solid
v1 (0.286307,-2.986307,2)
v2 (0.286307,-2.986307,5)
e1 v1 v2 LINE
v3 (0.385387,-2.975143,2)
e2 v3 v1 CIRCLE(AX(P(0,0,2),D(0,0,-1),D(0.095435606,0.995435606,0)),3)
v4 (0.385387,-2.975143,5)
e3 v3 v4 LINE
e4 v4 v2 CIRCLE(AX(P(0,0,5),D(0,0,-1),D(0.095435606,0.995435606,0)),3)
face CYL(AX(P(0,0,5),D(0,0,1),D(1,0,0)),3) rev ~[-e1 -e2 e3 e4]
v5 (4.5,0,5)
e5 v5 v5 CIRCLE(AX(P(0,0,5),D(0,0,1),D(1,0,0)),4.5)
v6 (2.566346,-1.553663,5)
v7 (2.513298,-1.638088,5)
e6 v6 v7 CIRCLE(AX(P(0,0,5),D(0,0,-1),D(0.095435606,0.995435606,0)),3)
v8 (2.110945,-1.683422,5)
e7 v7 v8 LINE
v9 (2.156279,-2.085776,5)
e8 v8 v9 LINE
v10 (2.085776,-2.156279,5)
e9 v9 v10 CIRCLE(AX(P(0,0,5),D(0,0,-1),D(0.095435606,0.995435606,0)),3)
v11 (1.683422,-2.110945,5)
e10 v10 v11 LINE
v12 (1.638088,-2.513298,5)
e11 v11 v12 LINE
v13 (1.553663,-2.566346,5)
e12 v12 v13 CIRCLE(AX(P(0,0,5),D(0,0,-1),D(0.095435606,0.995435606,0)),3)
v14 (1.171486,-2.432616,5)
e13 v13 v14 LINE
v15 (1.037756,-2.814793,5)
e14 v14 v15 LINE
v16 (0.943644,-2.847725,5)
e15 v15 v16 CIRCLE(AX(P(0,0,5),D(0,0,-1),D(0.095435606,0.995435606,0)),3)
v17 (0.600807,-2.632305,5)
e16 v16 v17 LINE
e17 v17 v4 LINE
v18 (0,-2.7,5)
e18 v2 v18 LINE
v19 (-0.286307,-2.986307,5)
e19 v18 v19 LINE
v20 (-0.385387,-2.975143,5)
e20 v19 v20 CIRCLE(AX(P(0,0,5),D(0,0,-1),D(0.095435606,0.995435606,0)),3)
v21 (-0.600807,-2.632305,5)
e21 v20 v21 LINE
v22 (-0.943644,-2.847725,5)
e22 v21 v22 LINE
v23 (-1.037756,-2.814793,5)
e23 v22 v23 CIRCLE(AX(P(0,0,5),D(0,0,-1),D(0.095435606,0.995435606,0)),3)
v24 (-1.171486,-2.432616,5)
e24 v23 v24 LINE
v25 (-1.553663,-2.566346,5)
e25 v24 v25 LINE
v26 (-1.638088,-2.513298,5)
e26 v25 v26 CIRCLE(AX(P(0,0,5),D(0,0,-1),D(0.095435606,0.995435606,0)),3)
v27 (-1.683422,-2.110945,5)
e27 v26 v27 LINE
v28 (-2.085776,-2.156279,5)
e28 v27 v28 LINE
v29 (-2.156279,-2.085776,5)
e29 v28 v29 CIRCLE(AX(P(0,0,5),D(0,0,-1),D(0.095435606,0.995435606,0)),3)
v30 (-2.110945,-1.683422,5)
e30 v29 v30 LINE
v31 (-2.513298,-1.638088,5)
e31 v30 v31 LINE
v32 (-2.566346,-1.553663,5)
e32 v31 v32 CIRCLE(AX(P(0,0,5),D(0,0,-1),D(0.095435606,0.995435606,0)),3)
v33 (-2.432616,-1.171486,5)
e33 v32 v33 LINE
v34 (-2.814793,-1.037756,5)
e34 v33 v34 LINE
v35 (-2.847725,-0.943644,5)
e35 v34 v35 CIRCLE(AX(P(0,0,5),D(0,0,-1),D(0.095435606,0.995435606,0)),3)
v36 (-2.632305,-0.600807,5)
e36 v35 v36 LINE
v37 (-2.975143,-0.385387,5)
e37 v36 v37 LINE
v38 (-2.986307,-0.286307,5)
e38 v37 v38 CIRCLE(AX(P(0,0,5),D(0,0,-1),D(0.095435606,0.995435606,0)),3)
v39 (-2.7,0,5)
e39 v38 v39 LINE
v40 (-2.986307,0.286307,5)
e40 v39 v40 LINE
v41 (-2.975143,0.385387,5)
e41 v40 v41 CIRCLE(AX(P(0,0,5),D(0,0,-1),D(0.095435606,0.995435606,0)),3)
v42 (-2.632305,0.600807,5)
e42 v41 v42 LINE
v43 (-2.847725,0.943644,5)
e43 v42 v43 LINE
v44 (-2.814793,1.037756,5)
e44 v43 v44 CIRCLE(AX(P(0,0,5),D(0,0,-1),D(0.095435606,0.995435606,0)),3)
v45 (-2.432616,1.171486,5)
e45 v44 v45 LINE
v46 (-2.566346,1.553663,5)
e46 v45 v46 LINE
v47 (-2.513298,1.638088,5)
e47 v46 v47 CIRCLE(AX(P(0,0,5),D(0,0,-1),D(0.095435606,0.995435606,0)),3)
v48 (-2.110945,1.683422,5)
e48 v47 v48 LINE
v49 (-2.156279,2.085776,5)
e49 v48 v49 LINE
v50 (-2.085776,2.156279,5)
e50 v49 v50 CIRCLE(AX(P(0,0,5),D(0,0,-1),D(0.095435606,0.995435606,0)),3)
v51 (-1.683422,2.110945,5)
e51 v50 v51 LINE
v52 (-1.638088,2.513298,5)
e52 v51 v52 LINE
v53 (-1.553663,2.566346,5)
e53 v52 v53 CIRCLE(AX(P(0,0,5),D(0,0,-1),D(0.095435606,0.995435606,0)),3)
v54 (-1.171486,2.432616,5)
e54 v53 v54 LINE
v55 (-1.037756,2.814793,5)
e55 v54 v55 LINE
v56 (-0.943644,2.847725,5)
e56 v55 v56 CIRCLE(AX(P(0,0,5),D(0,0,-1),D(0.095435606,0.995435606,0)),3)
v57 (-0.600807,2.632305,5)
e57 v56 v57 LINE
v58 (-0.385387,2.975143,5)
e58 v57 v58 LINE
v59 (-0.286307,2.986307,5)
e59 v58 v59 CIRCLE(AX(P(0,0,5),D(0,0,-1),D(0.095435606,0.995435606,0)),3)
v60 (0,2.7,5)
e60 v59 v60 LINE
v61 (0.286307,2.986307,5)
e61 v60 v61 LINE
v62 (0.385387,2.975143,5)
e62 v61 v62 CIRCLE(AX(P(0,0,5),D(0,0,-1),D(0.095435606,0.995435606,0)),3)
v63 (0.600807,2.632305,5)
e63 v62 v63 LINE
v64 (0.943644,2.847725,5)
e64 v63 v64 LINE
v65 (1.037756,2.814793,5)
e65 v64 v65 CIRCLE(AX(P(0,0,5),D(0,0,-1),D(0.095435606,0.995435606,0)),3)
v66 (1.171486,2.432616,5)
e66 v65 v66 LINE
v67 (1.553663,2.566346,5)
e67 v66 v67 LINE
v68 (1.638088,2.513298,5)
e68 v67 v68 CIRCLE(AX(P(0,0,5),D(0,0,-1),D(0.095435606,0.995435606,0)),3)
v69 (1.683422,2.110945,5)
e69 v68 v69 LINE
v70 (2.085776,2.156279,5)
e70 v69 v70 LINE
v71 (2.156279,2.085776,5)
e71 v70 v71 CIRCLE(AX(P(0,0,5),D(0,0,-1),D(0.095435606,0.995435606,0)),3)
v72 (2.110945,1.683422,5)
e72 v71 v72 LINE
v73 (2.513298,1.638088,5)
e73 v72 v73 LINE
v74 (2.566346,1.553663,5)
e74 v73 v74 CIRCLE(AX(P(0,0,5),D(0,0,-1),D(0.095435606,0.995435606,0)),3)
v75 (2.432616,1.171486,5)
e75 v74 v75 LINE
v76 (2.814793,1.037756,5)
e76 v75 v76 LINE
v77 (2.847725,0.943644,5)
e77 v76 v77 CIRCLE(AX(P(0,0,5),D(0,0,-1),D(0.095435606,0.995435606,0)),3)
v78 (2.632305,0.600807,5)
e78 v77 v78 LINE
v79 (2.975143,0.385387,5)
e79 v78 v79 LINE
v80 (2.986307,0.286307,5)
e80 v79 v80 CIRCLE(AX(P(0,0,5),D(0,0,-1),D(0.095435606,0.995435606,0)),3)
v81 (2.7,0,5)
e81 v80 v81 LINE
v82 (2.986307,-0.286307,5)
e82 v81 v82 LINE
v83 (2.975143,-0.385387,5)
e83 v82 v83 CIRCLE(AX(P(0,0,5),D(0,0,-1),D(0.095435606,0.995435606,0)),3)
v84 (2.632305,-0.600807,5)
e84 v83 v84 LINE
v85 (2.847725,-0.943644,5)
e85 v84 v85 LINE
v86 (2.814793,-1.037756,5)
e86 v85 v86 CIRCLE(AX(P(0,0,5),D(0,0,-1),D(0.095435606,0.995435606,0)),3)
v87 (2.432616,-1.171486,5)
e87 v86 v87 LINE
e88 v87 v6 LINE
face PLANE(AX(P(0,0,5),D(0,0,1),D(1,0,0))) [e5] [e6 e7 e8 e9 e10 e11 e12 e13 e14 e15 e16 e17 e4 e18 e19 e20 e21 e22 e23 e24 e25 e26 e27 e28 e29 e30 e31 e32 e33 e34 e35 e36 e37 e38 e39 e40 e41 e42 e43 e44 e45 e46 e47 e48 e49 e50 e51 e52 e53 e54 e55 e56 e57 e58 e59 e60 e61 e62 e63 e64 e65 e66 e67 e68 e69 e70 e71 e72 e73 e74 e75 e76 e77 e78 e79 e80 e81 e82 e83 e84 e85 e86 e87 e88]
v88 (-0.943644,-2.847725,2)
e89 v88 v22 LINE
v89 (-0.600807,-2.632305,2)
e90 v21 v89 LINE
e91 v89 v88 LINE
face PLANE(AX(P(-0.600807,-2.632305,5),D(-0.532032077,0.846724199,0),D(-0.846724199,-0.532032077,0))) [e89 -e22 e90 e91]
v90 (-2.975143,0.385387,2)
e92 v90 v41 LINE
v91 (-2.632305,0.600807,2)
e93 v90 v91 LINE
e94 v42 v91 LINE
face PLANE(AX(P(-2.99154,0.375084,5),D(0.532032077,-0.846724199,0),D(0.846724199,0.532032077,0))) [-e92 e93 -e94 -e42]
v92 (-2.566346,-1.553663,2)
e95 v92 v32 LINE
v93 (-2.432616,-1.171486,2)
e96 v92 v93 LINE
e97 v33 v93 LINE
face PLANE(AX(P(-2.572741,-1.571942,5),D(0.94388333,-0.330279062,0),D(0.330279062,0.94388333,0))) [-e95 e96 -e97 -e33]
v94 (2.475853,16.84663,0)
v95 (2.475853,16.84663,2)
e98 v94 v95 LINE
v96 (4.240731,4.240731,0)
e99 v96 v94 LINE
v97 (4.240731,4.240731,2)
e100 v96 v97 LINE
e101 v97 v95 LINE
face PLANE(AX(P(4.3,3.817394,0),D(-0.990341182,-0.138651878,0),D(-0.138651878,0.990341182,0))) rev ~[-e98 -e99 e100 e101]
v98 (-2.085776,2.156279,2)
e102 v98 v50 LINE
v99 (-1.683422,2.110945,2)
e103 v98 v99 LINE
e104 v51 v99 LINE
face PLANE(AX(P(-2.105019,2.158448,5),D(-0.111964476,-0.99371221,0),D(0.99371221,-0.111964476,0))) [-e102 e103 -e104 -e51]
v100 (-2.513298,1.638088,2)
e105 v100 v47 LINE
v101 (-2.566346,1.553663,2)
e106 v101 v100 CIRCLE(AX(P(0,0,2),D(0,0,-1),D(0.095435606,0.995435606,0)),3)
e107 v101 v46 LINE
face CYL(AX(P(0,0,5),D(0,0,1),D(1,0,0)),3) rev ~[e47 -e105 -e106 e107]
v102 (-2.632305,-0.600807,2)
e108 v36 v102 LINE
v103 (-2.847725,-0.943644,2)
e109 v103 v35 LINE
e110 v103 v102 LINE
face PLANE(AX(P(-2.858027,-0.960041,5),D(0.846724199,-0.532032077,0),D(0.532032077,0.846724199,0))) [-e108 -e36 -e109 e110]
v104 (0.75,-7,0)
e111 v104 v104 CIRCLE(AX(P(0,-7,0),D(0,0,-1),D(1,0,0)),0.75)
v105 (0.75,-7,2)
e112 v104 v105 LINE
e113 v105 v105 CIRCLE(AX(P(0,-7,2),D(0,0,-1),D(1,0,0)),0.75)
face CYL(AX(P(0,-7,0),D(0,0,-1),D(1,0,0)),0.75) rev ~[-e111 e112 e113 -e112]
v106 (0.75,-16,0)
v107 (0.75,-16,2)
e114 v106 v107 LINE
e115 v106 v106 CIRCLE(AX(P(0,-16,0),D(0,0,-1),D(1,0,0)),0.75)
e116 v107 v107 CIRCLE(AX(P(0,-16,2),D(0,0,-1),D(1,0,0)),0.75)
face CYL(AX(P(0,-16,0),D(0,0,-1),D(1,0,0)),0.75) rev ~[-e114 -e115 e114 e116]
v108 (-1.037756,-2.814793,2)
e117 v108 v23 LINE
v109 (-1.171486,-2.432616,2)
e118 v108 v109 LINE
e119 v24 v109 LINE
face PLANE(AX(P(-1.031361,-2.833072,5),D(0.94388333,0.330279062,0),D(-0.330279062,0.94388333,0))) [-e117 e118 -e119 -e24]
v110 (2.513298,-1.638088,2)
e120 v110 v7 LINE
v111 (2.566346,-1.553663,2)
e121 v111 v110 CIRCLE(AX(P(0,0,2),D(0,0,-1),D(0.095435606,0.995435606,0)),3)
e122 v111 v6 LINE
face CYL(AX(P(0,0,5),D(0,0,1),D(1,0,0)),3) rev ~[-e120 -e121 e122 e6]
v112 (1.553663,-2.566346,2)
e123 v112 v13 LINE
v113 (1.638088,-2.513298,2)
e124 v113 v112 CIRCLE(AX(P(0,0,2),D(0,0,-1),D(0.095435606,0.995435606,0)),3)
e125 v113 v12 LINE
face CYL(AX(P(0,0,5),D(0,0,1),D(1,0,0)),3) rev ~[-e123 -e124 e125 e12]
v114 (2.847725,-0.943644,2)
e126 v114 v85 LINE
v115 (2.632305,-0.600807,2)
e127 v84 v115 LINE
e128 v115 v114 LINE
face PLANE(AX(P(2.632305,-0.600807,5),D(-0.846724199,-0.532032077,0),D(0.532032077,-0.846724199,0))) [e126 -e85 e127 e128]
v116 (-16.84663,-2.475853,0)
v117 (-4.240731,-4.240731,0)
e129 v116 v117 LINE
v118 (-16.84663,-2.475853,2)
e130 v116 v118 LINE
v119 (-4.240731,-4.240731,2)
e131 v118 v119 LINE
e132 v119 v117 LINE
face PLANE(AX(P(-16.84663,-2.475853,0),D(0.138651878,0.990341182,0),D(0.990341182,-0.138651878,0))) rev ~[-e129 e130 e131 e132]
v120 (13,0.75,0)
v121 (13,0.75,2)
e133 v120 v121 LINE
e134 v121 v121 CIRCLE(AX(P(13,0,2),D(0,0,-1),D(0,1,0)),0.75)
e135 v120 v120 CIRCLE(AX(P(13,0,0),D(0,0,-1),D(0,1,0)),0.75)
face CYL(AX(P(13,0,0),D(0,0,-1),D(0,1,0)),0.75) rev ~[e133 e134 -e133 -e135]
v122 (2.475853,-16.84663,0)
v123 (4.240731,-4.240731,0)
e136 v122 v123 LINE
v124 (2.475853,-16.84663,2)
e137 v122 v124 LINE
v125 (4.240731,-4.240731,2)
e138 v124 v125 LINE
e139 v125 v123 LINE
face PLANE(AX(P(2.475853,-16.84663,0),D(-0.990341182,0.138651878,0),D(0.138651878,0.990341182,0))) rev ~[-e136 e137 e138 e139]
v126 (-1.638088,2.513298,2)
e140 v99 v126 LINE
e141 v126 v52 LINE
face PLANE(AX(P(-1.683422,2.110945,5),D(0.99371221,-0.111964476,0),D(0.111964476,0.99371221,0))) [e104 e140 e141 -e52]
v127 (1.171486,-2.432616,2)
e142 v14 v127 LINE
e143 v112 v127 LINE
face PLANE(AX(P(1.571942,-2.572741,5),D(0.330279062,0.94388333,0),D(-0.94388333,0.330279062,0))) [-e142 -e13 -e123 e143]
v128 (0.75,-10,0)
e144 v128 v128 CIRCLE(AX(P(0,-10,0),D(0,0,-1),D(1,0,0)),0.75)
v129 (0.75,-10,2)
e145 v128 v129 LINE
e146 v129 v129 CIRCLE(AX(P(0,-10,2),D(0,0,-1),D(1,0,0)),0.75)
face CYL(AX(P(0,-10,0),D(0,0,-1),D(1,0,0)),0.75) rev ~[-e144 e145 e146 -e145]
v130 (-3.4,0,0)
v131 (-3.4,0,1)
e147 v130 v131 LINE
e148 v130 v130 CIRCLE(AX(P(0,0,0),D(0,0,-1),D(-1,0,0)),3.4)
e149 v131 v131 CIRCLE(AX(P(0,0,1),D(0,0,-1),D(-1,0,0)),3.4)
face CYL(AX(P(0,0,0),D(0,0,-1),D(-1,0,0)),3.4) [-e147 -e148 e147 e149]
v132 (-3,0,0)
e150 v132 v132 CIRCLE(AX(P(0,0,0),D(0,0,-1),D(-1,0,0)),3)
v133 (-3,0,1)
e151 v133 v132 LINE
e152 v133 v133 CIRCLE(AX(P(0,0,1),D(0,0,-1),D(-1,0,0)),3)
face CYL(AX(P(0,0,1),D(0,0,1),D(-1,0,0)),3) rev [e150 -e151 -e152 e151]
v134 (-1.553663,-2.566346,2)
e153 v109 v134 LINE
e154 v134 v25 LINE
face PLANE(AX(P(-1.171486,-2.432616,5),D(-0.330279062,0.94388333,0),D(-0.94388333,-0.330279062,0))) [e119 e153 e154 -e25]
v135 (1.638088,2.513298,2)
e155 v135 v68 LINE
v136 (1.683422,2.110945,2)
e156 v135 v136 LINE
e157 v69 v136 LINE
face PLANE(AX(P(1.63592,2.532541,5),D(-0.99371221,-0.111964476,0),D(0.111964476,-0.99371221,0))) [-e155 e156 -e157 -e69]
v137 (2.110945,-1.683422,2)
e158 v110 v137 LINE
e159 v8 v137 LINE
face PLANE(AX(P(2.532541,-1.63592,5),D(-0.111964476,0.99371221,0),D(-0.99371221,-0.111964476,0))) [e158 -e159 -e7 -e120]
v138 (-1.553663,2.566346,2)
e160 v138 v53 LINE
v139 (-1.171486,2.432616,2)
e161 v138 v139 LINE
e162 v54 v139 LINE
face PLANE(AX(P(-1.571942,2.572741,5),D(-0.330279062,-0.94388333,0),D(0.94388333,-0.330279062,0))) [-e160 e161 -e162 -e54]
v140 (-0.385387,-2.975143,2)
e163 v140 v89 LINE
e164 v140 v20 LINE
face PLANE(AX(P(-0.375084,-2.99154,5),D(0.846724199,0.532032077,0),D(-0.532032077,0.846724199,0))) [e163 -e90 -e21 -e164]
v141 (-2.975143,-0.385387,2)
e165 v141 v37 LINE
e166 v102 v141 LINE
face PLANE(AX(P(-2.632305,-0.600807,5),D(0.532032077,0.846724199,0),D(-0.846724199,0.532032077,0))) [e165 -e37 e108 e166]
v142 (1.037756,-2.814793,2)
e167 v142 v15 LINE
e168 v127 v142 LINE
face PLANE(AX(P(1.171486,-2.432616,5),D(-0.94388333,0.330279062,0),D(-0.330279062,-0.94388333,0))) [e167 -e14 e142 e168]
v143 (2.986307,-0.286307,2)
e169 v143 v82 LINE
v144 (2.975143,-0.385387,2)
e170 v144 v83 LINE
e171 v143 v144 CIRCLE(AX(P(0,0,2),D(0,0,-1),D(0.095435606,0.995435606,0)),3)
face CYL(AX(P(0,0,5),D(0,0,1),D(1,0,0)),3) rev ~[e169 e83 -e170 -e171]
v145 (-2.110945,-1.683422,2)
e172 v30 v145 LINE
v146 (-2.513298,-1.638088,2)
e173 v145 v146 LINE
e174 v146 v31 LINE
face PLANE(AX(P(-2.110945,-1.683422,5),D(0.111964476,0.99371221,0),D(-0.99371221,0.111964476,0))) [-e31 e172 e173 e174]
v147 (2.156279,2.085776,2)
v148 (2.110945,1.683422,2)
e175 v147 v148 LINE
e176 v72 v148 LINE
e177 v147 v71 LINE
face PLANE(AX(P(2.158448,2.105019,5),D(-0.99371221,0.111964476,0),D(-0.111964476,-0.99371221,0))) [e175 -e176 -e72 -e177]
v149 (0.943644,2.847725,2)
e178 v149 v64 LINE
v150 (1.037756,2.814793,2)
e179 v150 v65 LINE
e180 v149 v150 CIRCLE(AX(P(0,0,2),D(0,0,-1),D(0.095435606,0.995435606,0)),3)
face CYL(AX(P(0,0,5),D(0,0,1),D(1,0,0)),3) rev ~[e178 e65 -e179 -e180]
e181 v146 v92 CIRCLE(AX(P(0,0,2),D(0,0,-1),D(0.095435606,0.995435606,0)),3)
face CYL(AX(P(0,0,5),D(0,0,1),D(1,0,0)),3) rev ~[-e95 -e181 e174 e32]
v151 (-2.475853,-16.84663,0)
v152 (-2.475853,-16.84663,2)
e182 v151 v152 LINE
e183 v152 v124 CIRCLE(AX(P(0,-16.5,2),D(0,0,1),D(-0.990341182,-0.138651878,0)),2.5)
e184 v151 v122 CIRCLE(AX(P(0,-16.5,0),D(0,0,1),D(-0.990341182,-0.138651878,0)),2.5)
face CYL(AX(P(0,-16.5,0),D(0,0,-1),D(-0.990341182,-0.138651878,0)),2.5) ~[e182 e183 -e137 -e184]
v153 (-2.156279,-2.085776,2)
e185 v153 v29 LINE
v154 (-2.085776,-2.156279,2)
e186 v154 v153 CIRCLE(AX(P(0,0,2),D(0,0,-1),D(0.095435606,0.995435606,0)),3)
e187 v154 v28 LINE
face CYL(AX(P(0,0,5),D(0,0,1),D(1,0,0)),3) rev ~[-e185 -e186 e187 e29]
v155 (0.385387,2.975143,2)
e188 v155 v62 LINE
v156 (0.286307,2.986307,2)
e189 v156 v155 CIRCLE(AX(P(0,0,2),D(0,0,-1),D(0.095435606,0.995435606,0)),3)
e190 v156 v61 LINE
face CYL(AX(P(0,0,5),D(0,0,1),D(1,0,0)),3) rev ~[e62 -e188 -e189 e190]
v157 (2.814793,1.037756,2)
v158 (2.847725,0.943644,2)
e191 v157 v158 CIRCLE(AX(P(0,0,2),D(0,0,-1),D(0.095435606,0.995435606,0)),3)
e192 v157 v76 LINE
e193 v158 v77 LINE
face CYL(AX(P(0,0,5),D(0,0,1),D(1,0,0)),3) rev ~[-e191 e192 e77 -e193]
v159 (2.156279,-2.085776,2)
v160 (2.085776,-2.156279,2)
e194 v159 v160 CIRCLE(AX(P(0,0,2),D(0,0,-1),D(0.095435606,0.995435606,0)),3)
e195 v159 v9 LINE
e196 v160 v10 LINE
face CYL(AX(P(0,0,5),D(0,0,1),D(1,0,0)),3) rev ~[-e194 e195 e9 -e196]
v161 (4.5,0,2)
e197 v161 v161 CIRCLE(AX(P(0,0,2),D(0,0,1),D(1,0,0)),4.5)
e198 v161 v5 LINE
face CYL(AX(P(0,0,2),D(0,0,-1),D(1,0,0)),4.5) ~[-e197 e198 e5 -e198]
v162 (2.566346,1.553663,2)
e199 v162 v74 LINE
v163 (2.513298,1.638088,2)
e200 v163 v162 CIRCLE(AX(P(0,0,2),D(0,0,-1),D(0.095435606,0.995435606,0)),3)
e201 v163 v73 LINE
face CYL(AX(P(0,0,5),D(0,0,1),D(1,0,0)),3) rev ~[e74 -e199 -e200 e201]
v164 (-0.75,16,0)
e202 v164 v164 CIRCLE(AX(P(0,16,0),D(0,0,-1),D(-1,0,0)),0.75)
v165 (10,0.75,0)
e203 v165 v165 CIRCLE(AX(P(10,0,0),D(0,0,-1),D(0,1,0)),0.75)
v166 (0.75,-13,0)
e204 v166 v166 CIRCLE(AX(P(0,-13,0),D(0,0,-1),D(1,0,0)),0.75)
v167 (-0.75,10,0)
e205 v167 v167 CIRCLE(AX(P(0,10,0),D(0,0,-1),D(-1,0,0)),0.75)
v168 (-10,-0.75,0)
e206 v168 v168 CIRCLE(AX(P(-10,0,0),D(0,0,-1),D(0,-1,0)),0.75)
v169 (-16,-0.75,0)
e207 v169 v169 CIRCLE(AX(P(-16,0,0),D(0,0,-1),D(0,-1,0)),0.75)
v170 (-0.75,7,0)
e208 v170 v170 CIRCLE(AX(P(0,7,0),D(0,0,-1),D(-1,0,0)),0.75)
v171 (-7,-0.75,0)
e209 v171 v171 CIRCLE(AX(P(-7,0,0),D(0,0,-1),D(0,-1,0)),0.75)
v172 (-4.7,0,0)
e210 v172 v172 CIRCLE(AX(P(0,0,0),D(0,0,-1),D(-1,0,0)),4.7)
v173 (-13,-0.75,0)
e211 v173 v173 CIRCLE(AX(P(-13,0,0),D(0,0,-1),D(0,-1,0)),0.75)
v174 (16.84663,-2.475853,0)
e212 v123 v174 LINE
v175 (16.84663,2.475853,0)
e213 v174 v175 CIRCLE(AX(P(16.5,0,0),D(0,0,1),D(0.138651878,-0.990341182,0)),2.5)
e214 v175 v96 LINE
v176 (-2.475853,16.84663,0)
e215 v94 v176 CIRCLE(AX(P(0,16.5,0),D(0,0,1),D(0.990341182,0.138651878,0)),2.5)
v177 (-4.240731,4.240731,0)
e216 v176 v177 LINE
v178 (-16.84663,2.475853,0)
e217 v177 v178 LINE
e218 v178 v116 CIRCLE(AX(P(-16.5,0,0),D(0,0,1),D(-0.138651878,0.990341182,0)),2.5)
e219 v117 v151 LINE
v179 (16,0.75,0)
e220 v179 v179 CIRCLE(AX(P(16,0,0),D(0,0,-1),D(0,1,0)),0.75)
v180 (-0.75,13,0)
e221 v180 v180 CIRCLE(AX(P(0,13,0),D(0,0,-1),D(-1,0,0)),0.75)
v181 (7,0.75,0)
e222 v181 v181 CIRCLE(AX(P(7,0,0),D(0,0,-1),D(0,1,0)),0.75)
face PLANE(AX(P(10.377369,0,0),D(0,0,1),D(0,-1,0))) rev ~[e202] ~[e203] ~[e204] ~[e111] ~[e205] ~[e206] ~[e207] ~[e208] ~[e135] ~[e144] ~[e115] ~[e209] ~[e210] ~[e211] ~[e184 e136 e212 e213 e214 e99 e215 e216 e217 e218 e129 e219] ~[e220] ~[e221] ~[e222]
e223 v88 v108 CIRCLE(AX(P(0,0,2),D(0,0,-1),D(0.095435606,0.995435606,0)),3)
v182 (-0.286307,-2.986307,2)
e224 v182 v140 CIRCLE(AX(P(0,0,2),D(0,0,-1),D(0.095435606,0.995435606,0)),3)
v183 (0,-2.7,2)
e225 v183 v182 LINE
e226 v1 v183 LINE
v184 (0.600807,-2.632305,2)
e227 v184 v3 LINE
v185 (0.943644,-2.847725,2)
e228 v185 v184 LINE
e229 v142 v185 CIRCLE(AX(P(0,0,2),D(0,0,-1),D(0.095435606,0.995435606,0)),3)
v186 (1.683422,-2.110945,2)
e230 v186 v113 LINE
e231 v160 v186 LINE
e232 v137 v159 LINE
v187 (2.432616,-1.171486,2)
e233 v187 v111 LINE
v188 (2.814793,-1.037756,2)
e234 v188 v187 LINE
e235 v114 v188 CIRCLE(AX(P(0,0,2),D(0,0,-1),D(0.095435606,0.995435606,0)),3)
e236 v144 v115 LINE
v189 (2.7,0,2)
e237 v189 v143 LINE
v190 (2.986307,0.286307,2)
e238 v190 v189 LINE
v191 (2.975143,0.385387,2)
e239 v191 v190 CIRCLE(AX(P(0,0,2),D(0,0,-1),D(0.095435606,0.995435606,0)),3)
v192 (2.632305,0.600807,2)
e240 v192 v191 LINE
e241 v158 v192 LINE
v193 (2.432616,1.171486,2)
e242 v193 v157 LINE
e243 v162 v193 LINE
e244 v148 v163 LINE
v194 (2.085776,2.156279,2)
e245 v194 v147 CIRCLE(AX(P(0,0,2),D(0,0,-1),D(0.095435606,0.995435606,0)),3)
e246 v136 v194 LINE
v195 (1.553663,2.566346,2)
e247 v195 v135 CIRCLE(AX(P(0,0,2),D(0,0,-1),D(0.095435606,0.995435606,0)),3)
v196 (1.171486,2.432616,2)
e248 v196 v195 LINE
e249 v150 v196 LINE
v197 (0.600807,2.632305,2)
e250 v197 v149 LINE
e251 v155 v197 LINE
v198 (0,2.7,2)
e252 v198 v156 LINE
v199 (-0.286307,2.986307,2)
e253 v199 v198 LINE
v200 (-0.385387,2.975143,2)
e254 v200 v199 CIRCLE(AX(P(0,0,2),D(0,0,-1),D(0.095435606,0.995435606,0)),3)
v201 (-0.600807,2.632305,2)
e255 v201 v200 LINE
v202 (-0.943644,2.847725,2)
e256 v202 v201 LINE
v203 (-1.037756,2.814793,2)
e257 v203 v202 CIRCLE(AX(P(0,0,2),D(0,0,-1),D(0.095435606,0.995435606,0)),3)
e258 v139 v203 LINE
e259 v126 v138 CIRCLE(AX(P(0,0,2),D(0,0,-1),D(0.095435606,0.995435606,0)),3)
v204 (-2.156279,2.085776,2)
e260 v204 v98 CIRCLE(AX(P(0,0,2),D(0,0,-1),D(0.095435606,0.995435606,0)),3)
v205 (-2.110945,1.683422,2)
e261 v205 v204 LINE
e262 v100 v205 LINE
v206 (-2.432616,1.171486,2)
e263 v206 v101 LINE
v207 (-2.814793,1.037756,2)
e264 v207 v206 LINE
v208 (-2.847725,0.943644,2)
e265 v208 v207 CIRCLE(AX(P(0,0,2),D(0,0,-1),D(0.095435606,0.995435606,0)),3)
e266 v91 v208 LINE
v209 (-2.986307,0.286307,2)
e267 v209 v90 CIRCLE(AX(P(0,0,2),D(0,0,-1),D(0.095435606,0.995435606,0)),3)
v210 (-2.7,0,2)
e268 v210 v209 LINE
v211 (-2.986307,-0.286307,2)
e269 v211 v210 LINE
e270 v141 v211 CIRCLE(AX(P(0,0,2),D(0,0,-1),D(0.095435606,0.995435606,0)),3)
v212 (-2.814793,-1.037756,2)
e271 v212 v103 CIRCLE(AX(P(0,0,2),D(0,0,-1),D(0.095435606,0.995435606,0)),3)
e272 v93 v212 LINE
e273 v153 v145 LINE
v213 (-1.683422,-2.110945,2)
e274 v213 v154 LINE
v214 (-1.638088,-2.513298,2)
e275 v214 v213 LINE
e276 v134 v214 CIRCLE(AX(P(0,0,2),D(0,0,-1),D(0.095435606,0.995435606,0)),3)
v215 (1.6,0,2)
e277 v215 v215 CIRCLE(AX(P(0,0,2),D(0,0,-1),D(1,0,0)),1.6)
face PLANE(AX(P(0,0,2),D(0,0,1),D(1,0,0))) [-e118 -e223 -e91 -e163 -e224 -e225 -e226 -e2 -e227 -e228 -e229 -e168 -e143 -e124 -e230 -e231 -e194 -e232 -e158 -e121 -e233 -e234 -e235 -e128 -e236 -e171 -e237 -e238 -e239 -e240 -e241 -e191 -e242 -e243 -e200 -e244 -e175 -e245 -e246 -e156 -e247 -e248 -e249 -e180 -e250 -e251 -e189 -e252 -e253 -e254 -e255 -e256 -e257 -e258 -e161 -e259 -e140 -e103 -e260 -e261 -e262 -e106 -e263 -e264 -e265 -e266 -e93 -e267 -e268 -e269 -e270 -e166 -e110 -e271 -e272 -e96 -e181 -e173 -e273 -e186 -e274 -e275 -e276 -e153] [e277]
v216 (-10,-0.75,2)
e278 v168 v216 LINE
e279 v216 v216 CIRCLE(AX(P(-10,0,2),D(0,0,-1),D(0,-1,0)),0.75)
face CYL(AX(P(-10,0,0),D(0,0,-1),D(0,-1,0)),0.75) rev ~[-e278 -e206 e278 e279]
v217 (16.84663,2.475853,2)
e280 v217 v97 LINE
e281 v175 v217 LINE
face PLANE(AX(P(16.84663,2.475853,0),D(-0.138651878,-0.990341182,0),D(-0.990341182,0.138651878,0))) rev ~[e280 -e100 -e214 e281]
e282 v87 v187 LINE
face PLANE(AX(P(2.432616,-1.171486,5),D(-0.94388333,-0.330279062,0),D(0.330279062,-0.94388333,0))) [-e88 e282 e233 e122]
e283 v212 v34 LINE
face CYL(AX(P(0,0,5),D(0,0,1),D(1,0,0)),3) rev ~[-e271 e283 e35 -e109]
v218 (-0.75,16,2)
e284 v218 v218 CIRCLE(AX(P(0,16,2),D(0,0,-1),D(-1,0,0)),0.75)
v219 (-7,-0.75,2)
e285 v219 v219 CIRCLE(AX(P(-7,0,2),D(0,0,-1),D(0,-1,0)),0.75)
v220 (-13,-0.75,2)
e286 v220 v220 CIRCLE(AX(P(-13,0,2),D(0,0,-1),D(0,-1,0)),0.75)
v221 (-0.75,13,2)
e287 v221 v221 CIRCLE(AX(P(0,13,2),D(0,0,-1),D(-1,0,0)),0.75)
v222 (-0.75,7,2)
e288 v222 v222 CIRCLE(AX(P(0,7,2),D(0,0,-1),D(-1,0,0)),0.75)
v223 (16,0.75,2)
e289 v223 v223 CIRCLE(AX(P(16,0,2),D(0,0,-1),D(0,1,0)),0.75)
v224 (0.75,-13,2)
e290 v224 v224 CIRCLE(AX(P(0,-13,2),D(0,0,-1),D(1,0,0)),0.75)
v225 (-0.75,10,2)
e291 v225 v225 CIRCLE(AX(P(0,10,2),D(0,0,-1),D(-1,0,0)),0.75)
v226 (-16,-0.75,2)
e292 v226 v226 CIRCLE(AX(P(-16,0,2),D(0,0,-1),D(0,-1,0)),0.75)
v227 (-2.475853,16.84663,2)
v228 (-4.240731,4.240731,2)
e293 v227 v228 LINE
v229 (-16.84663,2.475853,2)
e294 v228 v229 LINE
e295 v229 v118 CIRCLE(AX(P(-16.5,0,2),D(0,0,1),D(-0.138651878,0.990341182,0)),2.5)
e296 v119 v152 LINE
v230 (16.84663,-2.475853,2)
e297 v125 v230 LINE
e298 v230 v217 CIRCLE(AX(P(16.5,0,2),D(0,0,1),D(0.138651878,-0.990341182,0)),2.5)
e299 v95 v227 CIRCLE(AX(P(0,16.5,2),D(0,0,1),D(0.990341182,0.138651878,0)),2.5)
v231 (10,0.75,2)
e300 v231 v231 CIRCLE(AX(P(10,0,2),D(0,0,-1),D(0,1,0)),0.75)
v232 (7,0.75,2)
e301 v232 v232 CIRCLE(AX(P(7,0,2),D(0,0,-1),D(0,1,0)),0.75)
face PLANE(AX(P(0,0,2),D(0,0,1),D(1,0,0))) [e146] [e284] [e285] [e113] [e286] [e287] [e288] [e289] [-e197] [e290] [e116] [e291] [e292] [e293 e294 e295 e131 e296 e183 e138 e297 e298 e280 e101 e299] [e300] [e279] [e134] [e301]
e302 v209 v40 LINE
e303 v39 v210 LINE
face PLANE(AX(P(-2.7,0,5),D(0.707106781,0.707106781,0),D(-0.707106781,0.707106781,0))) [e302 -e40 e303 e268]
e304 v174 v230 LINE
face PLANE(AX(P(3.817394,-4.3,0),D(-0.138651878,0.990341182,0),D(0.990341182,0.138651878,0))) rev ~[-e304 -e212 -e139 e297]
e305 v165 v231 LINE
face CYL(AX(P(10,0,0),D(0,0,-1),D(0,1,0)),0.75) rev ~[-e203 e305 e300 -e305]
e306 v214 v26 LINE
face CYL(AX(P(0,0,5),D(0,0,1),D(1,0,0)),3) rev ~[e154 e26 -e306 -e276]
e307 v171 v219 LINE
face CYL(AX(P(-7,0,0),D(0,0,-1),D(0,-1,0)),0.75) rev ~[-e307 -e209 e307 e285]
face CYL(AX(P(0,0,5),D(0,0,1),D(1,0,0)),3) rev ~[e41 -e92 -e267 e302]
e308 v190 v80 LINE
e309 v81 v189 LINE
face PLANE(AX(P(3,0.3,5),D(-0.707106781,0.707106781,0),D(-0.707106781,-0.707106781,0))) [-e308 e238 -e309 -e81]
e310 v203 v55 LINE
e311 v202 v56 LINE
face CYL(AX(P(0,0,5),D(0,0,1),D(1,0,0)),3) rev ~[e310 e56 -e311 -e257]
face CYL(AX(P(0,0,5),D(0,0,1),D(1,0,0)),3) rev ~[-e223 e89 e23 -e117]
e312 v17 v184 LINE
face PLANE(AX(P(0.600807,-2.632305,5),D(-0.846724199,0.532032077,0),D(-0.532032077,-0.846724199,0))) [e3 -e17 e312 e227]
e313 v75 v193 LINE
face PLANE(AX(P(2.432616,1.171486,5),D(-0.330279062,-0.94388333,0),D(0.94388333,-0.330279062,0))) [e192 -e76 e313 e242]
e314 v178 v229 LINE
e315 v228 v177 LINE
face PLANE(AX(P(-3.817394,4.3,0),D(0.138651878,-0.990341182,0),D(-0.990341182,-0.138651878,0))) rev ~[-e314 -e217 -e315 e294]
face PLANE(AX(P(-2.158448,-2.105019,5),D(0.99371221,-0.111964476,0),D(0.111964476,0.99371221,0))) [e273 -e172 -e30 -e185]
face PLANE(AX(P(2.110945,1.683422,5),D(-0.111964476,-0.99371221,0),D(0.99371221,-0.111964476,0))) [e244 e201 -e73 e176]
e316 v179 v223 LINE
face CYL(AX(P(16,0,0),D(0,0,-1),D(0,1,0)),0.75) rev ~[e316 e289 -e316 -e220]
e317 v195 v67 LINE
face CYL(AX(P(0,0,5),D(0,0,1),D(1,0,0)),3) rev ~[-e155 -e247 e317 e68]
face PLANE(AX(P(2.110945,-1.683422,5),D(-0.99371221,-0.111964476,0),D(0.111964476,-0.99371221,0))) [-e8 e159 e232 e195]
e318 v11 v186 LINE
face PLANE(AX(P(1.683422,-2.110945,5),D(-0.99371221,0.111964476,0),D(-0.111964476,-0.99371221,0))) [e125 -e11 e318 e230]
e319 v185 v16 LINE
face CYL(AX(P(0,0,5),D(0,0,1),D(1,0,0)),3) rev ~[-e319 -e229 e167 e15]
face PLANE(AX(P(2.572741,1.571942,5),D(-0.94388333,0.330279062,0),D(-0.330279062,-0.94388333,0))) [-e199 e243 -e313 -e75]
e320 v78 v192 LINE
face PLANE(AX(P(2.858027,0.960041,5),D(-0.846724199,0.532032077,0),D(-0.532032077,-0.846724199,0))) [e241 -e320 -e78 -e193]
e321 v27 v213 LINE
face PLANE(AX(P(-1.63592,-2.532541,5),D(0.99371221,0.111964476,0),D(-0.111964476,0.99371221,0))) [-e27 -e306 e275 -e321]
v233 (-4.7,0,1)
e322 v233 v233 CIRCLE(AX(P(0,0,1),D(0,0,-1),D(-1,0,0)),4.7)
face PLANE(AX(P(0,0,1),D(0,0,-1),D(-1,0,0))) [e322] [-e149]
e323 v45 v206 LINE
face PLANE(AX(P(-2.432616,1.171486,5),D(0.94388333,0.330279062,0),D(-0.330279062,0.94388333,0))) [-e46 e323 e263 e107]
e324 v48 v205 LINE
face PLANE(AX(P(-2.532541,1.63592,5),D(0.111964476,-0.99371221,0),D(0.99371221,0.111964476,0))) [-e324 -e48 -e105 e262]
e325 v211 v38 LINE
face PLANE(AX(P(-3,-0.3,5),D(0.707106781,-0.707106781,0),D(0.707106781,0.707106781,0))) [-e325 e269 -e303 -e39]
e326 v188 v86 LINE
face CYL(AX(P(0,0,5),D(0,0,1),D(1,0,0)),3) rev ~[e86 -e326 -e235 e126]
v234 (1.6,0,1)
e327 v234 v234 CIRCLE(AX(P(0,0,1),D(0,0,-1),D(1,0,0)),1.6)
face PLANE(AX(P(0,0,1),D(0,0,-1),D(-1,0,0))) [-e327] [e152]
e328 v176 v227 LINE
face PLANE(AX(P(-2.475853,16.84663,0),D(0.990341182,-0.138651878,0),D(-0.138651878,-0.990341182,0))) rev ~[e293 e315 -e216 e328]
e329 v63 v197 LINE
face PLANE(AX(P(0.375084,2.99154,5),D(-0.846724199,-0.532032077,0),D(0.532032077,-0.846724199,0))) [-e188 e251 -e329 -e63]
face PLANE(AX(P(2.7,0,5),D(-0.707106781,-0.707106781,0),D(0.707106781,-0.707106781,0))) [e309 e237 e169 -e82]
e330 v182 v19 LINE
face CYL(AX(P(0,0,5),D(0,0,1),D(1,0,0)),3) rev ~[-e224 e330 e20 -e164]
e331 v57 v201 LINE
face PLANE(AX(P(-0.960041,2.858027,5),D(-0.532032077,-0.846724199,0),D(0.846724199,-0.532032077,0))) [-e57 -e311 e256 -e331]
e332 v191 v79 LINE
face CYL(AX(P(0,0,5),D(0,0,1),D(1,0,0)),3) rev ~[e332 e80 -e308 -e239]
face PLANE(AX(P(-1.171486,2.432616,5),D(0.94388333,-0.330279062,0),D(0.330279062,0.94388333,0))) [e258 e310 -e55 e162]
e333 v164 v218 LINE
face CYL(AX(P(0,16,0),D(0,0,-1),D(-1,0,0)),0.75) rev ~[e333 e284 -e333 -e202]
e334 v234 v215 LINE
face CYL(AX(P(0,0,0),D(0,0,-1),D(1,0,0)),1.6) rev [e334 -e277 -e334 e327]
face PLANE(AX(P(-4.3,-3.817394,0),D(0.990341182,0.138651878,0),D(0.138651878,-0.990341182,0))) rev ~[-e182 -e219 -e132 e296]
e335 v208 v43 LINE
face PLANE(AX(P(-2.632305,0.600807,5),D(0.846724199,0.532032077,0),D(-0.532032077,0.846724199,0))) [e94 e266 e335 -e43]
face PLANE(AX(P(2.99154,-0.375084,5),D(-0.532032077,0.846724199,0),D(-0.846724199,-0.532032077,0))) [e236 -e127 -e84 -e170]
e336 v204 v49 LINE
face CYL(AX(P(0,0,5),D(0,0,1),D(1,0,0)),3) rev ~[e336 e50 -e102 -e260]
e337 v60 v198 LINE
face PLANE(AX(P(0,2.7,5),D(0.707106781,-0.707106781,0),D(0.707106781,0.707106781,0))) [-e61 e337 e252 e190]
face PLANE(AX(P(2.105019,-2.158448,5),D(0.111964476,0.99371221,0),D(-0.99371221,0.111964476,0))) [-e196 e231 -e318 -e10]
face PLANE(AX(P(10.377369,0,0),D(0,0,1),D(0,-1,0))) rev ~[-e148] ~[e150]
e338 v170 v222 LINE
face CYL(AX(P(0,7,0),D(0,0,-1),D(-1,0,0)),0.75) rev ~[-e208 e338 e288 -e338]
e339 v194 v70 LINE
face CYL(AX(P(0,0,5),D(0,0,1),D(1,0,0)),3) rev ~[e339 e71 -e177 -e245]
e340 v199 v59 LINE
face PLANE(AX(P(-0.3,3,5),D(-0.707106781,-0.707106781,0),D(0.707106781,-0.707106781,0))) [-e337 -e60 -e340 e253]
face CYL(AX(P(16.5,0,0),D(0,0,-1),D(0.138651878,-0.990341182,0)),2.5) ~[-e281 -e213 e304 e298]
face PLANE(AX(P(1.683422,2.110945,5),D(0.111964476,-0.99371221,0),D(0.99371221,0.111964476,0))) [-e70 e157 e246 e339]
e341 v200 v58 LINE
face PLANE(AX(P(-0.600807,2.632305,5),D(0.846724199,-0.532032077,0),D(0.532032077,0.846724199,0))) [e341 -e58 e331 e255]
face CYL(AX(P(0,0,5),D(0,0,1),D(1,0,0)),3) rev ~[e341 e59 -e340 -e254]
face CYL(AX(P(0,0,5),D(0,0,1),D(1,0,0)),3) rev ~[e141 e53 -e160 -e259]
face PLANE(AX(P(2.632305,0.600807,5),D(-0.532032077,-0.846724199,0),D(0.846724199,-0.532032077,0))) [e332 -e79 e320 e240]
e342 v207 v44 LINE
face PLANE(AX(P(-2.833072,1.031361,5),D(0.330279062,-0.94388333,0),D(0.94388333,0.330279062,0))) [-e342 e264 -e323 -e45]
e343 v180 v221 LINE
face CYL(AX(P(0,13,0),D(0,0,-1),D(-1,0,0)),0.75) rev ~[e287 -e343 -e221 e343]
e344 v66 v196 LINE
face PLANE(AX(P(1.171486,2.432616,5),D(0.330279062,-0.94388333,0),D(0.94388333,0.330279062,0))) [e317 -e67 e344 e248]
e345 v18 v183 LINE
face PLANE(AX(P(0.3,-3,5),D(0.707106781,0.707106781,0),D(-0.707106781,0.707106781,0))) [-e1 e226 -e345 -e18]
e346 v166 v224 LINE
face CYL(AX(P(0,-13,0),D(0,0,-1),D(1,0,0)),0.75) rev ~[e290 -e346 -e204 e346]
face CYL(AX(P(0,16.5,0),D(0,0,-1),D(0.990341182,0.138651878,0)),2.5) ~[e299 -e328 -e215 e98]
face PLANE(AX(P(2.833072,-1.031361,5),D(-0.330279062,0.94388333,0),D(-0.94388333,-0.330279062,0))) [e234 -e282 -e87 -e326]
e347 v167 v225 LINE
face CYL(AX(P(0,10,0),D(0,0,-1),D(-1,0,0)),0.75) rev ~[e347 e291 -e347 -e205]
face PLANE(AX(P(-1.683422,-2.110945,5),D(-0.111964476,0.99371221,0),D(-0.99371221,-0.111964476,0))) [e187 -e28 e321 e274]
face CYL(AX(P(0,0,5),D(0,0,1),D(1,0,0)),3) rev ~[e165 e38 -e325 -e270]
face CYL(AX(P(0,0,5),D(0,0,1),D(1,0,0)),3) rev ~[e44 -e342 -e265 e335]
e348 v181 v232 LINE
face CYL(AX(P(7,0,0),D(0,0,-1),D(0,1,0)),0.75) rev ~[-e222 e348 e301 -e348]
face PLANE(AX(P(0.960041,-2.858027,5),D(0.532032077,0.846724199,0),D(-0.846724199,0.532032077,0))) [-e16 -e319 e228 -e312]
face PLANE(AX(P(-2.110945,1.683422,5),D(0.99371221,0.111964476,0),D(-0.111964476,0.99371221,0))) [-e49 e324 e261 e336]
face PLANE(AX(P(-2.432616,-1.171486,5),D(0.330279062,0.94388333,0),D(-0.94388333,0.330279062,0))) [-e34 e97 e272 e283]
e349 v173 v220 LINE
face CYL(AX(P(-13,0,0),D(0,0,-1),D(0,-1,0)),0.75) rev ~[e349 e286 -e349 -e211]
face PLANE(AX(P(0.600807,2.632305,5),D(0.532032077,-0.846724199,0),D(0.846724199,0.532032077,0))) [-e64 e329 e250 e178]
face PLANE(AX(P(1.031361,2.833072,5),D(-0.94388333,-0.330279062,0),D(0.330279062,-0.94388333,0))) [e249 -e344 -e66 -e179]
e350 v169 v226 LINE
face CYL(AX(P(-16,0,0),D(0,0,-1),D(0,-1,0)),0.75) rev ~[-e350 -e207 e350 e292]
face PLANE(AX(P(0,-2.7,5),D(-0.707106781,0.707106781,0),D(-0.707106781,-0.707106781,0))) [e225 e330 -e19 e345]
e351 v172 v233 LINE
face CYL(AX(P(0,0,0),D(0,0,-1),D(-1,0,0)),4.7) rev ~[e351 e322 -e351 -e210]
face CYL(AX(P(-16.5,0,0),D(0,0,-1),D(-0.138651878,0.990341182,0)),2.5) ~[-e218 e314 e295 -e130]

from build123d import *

# Parameters (mm, degrees)
ESQUISSE1_R                  = 5.75
ESQUISSE1_R_2                = 1.6
BOSS_EXTRU_1_DEPTH           = 5
ESQUISSE2_R                  = 3
ENL_V_MAT_EXTRU_1_DEPTH      = 3
ENL_V_START                  = -3
ESQUISSE3_R                  = 5.75
ESQUISSE3_R_2                = 4.5
ENL_V_MAT_EXTRU_2_DEPTH      = 3
BOSS_EXTRU_2_DEPTH           = 2
R_P_TITION_CIRCULAIRE1_COUNT = 4
ESQUISSE5_R                  = 0.75
ENL_V_MAT_EXTRU_3_DEPTH      = 3
R_P_TITION_CIRCULAIRE2_COUNT = 4
BOSS_EXTRU_3_DEPTH           = 3
R_P_TITION_CIRCULAIRE3_COUNT = 28
ENL_V_START_2                = -1
ESQUISSE7_R                  = 3
ESQUISSE7_R_2                = 1.6
ENL_V_MAT_EXTRU_4_DEPTH      = 1
ESQUISSE8_R                  = 4.7
ESQUISSE8_R_2                = 3.4
ENL_V_MAT_EXTRU_5_DEPTH      = 1


with BuildPart() as part:
    # Esquisse1 → Boss.-Extru.1 (new body)
    with BuildSketch(Plane.XY):
        Circle(ESQUISSE1_R)
        Circle(ESQUISSE1_R_2, mode=Mode.SUBTRACT)
    extrude(amount=BOSS_EXTRU_1_DEPTH)

    # Esquisse2 → Enlèv. mat.-Extru.1 (cut)
    with BuildSketch(Plane.XY.offset(5)):
        Circle(ESQUISSE2_R)
    extrude(amount=-ENL_V_MAT_EXTRU_1_DEPTH, mode=Mode.SUBTRACT)

    # Esquisse3 → Enlèv. mat.-Extru.2 (cut)
    with BuildSketch(Plane.XY.offset(5).offset(ENL_V_START)):
        Circle(ESQUISSE3_R)
        Circle(ESQUISSE3_R_2, mode=Mode.SUBTRACT)
    extrude(amount=ENL_V_MAT_EXTRU_2_DEPTH, mode=Mode.SUBTRACT)

    # Esquisse4 → Boss.-Extru.2 (add)
    with BuildSketch(Plane(origin=(0, 0, 0), x_dir=(-1, 0, 0), z_dir=(0, 0, -1))):
        with BuildLine():
            Line((-4.3, 3.817394399), (-2.475852955, 16.846629695))
            ThreePointArc((-2.475852955, 16.846629695), (0, 19), (2.475852955, 16.846629695))
            Line((2.475852955, 16.846629695), (4.3, 3.817394399))
            ThreePointArc((4.3, 3.817394399), (0, 5.75), (-4.3, 3.817394399))
        make_face()
    boss_extru_2 = extrude(amount=-BOSS_EXTRU_2_DEPTH)

    # Répétition circulaire1: Boss.-Extru.2 ×4 about axis
    r_p_tition_circulaire1_axis = Axis((0, 0, 0), (0, 0, 1))
    for i in range(1, R_P_TITION_CIRCULAIRE1_COUNT):
        add(boss_extru_2.rotate(r_p_tition_circulaire1_axis, i * 360 / R_P_TITION_CIRCULAIRE1_COUNT))

    # Esquisse5 → Enlèv. mat.-Extru.3 (cut)
    with BuildSketch(Plane(origin=(0, 0, 0), x_dir=(-1, 0, 0), z_dir=(0, 0, -1))):
        with Locations((0, 7)):
            Circle(ESQUISSE5_R)
        with Locations((0, 10)):
            Circle(ESQUISSE5_R)
        with Locations((0, 13)):
            Circle(ESQUISSE5_R)
        with Locations((0, 16)):
            Circle(ESQUISSE5_R)
    enl_v_mat_extru_3 = extrude(amount=-ENL_V_MAT_EXTRU_3_DEPTH, mode=Mode.SUBTRACT)

    # Répétition circulaire2: Enlèv. mat.-Extru.3 ×4 about axis
    r_p_tition_circulaire2_axis = Axis((0, 0, 0), (0, 0, 1))
    for i in range(1, R_P_TITION_CIRCULAIRE2_COUNT):
        add(enl_v_mat_extru_3.rotate(r_p_tition_circulaire2_axis, i * 360 / R_P_TITION_CIRCULAIRE2_COUNT), mode=Mode.SUBTRACT)

    # Esquisse6 → Boss.-Extru.3 (add)
    with BuildSketch(Plane.XY.offset(5)):
        Polygon((-0.3, 3), (0, 2.7), (0.3, 3), align=None)
    boss_extru_3 = extrude(amount=-BOSS_EXTRU_3_DEPTH)

    # Répétition circulaire3: Boss.-Extru.3 ×28 about axis
    r_p_tition_circulaire3_axis = Axis((0, 0, 0), (0, 0, 1))
    for i in range(1, R_P_TITION_CIRCULAIRE3_COUNT):
        add(boss_extru_3.rotate(r_p_tition_circulaire3_axis, i * 360 / R_P_TITION_CIRCULAIRE3_COUNT))

    # Esquisse7 → Enlèv. mat.-Extru.4 (cut)
    with BuildSketch(Plane(origin=(0, 0, 0), x_dir=(-1, 0, 0), z_dir=(0, 0, -1)).offset(ENL_V_START_2)):
        Circle(ESQUISSE7_R)
        Circle(ESQUISSE7_R_2, mode=Mode.SUBTRACT)
    extrude(amount=ENL_V_MAT_EXTRU_4_DEPTH, mode=Mode.SUBTRACT)

    # Esquisse8 → Enlèv. mat.-Extru.5 (cut)
    with BuildSketch(Plane(origin=(0, 0, 0), x_dir=(-1, 0, 0), z_dir=(0, 0, -1))):
        Circle(ESQUISSE8_R)
        Circle(ESQUISSE8_R_2, mode=Mode.SUBTRACT)
    extrude(amount=-ENL_V_MAT_EXTRU_5_DEPTH, mode=Mode.SUBTRACT)


solid = part.part
